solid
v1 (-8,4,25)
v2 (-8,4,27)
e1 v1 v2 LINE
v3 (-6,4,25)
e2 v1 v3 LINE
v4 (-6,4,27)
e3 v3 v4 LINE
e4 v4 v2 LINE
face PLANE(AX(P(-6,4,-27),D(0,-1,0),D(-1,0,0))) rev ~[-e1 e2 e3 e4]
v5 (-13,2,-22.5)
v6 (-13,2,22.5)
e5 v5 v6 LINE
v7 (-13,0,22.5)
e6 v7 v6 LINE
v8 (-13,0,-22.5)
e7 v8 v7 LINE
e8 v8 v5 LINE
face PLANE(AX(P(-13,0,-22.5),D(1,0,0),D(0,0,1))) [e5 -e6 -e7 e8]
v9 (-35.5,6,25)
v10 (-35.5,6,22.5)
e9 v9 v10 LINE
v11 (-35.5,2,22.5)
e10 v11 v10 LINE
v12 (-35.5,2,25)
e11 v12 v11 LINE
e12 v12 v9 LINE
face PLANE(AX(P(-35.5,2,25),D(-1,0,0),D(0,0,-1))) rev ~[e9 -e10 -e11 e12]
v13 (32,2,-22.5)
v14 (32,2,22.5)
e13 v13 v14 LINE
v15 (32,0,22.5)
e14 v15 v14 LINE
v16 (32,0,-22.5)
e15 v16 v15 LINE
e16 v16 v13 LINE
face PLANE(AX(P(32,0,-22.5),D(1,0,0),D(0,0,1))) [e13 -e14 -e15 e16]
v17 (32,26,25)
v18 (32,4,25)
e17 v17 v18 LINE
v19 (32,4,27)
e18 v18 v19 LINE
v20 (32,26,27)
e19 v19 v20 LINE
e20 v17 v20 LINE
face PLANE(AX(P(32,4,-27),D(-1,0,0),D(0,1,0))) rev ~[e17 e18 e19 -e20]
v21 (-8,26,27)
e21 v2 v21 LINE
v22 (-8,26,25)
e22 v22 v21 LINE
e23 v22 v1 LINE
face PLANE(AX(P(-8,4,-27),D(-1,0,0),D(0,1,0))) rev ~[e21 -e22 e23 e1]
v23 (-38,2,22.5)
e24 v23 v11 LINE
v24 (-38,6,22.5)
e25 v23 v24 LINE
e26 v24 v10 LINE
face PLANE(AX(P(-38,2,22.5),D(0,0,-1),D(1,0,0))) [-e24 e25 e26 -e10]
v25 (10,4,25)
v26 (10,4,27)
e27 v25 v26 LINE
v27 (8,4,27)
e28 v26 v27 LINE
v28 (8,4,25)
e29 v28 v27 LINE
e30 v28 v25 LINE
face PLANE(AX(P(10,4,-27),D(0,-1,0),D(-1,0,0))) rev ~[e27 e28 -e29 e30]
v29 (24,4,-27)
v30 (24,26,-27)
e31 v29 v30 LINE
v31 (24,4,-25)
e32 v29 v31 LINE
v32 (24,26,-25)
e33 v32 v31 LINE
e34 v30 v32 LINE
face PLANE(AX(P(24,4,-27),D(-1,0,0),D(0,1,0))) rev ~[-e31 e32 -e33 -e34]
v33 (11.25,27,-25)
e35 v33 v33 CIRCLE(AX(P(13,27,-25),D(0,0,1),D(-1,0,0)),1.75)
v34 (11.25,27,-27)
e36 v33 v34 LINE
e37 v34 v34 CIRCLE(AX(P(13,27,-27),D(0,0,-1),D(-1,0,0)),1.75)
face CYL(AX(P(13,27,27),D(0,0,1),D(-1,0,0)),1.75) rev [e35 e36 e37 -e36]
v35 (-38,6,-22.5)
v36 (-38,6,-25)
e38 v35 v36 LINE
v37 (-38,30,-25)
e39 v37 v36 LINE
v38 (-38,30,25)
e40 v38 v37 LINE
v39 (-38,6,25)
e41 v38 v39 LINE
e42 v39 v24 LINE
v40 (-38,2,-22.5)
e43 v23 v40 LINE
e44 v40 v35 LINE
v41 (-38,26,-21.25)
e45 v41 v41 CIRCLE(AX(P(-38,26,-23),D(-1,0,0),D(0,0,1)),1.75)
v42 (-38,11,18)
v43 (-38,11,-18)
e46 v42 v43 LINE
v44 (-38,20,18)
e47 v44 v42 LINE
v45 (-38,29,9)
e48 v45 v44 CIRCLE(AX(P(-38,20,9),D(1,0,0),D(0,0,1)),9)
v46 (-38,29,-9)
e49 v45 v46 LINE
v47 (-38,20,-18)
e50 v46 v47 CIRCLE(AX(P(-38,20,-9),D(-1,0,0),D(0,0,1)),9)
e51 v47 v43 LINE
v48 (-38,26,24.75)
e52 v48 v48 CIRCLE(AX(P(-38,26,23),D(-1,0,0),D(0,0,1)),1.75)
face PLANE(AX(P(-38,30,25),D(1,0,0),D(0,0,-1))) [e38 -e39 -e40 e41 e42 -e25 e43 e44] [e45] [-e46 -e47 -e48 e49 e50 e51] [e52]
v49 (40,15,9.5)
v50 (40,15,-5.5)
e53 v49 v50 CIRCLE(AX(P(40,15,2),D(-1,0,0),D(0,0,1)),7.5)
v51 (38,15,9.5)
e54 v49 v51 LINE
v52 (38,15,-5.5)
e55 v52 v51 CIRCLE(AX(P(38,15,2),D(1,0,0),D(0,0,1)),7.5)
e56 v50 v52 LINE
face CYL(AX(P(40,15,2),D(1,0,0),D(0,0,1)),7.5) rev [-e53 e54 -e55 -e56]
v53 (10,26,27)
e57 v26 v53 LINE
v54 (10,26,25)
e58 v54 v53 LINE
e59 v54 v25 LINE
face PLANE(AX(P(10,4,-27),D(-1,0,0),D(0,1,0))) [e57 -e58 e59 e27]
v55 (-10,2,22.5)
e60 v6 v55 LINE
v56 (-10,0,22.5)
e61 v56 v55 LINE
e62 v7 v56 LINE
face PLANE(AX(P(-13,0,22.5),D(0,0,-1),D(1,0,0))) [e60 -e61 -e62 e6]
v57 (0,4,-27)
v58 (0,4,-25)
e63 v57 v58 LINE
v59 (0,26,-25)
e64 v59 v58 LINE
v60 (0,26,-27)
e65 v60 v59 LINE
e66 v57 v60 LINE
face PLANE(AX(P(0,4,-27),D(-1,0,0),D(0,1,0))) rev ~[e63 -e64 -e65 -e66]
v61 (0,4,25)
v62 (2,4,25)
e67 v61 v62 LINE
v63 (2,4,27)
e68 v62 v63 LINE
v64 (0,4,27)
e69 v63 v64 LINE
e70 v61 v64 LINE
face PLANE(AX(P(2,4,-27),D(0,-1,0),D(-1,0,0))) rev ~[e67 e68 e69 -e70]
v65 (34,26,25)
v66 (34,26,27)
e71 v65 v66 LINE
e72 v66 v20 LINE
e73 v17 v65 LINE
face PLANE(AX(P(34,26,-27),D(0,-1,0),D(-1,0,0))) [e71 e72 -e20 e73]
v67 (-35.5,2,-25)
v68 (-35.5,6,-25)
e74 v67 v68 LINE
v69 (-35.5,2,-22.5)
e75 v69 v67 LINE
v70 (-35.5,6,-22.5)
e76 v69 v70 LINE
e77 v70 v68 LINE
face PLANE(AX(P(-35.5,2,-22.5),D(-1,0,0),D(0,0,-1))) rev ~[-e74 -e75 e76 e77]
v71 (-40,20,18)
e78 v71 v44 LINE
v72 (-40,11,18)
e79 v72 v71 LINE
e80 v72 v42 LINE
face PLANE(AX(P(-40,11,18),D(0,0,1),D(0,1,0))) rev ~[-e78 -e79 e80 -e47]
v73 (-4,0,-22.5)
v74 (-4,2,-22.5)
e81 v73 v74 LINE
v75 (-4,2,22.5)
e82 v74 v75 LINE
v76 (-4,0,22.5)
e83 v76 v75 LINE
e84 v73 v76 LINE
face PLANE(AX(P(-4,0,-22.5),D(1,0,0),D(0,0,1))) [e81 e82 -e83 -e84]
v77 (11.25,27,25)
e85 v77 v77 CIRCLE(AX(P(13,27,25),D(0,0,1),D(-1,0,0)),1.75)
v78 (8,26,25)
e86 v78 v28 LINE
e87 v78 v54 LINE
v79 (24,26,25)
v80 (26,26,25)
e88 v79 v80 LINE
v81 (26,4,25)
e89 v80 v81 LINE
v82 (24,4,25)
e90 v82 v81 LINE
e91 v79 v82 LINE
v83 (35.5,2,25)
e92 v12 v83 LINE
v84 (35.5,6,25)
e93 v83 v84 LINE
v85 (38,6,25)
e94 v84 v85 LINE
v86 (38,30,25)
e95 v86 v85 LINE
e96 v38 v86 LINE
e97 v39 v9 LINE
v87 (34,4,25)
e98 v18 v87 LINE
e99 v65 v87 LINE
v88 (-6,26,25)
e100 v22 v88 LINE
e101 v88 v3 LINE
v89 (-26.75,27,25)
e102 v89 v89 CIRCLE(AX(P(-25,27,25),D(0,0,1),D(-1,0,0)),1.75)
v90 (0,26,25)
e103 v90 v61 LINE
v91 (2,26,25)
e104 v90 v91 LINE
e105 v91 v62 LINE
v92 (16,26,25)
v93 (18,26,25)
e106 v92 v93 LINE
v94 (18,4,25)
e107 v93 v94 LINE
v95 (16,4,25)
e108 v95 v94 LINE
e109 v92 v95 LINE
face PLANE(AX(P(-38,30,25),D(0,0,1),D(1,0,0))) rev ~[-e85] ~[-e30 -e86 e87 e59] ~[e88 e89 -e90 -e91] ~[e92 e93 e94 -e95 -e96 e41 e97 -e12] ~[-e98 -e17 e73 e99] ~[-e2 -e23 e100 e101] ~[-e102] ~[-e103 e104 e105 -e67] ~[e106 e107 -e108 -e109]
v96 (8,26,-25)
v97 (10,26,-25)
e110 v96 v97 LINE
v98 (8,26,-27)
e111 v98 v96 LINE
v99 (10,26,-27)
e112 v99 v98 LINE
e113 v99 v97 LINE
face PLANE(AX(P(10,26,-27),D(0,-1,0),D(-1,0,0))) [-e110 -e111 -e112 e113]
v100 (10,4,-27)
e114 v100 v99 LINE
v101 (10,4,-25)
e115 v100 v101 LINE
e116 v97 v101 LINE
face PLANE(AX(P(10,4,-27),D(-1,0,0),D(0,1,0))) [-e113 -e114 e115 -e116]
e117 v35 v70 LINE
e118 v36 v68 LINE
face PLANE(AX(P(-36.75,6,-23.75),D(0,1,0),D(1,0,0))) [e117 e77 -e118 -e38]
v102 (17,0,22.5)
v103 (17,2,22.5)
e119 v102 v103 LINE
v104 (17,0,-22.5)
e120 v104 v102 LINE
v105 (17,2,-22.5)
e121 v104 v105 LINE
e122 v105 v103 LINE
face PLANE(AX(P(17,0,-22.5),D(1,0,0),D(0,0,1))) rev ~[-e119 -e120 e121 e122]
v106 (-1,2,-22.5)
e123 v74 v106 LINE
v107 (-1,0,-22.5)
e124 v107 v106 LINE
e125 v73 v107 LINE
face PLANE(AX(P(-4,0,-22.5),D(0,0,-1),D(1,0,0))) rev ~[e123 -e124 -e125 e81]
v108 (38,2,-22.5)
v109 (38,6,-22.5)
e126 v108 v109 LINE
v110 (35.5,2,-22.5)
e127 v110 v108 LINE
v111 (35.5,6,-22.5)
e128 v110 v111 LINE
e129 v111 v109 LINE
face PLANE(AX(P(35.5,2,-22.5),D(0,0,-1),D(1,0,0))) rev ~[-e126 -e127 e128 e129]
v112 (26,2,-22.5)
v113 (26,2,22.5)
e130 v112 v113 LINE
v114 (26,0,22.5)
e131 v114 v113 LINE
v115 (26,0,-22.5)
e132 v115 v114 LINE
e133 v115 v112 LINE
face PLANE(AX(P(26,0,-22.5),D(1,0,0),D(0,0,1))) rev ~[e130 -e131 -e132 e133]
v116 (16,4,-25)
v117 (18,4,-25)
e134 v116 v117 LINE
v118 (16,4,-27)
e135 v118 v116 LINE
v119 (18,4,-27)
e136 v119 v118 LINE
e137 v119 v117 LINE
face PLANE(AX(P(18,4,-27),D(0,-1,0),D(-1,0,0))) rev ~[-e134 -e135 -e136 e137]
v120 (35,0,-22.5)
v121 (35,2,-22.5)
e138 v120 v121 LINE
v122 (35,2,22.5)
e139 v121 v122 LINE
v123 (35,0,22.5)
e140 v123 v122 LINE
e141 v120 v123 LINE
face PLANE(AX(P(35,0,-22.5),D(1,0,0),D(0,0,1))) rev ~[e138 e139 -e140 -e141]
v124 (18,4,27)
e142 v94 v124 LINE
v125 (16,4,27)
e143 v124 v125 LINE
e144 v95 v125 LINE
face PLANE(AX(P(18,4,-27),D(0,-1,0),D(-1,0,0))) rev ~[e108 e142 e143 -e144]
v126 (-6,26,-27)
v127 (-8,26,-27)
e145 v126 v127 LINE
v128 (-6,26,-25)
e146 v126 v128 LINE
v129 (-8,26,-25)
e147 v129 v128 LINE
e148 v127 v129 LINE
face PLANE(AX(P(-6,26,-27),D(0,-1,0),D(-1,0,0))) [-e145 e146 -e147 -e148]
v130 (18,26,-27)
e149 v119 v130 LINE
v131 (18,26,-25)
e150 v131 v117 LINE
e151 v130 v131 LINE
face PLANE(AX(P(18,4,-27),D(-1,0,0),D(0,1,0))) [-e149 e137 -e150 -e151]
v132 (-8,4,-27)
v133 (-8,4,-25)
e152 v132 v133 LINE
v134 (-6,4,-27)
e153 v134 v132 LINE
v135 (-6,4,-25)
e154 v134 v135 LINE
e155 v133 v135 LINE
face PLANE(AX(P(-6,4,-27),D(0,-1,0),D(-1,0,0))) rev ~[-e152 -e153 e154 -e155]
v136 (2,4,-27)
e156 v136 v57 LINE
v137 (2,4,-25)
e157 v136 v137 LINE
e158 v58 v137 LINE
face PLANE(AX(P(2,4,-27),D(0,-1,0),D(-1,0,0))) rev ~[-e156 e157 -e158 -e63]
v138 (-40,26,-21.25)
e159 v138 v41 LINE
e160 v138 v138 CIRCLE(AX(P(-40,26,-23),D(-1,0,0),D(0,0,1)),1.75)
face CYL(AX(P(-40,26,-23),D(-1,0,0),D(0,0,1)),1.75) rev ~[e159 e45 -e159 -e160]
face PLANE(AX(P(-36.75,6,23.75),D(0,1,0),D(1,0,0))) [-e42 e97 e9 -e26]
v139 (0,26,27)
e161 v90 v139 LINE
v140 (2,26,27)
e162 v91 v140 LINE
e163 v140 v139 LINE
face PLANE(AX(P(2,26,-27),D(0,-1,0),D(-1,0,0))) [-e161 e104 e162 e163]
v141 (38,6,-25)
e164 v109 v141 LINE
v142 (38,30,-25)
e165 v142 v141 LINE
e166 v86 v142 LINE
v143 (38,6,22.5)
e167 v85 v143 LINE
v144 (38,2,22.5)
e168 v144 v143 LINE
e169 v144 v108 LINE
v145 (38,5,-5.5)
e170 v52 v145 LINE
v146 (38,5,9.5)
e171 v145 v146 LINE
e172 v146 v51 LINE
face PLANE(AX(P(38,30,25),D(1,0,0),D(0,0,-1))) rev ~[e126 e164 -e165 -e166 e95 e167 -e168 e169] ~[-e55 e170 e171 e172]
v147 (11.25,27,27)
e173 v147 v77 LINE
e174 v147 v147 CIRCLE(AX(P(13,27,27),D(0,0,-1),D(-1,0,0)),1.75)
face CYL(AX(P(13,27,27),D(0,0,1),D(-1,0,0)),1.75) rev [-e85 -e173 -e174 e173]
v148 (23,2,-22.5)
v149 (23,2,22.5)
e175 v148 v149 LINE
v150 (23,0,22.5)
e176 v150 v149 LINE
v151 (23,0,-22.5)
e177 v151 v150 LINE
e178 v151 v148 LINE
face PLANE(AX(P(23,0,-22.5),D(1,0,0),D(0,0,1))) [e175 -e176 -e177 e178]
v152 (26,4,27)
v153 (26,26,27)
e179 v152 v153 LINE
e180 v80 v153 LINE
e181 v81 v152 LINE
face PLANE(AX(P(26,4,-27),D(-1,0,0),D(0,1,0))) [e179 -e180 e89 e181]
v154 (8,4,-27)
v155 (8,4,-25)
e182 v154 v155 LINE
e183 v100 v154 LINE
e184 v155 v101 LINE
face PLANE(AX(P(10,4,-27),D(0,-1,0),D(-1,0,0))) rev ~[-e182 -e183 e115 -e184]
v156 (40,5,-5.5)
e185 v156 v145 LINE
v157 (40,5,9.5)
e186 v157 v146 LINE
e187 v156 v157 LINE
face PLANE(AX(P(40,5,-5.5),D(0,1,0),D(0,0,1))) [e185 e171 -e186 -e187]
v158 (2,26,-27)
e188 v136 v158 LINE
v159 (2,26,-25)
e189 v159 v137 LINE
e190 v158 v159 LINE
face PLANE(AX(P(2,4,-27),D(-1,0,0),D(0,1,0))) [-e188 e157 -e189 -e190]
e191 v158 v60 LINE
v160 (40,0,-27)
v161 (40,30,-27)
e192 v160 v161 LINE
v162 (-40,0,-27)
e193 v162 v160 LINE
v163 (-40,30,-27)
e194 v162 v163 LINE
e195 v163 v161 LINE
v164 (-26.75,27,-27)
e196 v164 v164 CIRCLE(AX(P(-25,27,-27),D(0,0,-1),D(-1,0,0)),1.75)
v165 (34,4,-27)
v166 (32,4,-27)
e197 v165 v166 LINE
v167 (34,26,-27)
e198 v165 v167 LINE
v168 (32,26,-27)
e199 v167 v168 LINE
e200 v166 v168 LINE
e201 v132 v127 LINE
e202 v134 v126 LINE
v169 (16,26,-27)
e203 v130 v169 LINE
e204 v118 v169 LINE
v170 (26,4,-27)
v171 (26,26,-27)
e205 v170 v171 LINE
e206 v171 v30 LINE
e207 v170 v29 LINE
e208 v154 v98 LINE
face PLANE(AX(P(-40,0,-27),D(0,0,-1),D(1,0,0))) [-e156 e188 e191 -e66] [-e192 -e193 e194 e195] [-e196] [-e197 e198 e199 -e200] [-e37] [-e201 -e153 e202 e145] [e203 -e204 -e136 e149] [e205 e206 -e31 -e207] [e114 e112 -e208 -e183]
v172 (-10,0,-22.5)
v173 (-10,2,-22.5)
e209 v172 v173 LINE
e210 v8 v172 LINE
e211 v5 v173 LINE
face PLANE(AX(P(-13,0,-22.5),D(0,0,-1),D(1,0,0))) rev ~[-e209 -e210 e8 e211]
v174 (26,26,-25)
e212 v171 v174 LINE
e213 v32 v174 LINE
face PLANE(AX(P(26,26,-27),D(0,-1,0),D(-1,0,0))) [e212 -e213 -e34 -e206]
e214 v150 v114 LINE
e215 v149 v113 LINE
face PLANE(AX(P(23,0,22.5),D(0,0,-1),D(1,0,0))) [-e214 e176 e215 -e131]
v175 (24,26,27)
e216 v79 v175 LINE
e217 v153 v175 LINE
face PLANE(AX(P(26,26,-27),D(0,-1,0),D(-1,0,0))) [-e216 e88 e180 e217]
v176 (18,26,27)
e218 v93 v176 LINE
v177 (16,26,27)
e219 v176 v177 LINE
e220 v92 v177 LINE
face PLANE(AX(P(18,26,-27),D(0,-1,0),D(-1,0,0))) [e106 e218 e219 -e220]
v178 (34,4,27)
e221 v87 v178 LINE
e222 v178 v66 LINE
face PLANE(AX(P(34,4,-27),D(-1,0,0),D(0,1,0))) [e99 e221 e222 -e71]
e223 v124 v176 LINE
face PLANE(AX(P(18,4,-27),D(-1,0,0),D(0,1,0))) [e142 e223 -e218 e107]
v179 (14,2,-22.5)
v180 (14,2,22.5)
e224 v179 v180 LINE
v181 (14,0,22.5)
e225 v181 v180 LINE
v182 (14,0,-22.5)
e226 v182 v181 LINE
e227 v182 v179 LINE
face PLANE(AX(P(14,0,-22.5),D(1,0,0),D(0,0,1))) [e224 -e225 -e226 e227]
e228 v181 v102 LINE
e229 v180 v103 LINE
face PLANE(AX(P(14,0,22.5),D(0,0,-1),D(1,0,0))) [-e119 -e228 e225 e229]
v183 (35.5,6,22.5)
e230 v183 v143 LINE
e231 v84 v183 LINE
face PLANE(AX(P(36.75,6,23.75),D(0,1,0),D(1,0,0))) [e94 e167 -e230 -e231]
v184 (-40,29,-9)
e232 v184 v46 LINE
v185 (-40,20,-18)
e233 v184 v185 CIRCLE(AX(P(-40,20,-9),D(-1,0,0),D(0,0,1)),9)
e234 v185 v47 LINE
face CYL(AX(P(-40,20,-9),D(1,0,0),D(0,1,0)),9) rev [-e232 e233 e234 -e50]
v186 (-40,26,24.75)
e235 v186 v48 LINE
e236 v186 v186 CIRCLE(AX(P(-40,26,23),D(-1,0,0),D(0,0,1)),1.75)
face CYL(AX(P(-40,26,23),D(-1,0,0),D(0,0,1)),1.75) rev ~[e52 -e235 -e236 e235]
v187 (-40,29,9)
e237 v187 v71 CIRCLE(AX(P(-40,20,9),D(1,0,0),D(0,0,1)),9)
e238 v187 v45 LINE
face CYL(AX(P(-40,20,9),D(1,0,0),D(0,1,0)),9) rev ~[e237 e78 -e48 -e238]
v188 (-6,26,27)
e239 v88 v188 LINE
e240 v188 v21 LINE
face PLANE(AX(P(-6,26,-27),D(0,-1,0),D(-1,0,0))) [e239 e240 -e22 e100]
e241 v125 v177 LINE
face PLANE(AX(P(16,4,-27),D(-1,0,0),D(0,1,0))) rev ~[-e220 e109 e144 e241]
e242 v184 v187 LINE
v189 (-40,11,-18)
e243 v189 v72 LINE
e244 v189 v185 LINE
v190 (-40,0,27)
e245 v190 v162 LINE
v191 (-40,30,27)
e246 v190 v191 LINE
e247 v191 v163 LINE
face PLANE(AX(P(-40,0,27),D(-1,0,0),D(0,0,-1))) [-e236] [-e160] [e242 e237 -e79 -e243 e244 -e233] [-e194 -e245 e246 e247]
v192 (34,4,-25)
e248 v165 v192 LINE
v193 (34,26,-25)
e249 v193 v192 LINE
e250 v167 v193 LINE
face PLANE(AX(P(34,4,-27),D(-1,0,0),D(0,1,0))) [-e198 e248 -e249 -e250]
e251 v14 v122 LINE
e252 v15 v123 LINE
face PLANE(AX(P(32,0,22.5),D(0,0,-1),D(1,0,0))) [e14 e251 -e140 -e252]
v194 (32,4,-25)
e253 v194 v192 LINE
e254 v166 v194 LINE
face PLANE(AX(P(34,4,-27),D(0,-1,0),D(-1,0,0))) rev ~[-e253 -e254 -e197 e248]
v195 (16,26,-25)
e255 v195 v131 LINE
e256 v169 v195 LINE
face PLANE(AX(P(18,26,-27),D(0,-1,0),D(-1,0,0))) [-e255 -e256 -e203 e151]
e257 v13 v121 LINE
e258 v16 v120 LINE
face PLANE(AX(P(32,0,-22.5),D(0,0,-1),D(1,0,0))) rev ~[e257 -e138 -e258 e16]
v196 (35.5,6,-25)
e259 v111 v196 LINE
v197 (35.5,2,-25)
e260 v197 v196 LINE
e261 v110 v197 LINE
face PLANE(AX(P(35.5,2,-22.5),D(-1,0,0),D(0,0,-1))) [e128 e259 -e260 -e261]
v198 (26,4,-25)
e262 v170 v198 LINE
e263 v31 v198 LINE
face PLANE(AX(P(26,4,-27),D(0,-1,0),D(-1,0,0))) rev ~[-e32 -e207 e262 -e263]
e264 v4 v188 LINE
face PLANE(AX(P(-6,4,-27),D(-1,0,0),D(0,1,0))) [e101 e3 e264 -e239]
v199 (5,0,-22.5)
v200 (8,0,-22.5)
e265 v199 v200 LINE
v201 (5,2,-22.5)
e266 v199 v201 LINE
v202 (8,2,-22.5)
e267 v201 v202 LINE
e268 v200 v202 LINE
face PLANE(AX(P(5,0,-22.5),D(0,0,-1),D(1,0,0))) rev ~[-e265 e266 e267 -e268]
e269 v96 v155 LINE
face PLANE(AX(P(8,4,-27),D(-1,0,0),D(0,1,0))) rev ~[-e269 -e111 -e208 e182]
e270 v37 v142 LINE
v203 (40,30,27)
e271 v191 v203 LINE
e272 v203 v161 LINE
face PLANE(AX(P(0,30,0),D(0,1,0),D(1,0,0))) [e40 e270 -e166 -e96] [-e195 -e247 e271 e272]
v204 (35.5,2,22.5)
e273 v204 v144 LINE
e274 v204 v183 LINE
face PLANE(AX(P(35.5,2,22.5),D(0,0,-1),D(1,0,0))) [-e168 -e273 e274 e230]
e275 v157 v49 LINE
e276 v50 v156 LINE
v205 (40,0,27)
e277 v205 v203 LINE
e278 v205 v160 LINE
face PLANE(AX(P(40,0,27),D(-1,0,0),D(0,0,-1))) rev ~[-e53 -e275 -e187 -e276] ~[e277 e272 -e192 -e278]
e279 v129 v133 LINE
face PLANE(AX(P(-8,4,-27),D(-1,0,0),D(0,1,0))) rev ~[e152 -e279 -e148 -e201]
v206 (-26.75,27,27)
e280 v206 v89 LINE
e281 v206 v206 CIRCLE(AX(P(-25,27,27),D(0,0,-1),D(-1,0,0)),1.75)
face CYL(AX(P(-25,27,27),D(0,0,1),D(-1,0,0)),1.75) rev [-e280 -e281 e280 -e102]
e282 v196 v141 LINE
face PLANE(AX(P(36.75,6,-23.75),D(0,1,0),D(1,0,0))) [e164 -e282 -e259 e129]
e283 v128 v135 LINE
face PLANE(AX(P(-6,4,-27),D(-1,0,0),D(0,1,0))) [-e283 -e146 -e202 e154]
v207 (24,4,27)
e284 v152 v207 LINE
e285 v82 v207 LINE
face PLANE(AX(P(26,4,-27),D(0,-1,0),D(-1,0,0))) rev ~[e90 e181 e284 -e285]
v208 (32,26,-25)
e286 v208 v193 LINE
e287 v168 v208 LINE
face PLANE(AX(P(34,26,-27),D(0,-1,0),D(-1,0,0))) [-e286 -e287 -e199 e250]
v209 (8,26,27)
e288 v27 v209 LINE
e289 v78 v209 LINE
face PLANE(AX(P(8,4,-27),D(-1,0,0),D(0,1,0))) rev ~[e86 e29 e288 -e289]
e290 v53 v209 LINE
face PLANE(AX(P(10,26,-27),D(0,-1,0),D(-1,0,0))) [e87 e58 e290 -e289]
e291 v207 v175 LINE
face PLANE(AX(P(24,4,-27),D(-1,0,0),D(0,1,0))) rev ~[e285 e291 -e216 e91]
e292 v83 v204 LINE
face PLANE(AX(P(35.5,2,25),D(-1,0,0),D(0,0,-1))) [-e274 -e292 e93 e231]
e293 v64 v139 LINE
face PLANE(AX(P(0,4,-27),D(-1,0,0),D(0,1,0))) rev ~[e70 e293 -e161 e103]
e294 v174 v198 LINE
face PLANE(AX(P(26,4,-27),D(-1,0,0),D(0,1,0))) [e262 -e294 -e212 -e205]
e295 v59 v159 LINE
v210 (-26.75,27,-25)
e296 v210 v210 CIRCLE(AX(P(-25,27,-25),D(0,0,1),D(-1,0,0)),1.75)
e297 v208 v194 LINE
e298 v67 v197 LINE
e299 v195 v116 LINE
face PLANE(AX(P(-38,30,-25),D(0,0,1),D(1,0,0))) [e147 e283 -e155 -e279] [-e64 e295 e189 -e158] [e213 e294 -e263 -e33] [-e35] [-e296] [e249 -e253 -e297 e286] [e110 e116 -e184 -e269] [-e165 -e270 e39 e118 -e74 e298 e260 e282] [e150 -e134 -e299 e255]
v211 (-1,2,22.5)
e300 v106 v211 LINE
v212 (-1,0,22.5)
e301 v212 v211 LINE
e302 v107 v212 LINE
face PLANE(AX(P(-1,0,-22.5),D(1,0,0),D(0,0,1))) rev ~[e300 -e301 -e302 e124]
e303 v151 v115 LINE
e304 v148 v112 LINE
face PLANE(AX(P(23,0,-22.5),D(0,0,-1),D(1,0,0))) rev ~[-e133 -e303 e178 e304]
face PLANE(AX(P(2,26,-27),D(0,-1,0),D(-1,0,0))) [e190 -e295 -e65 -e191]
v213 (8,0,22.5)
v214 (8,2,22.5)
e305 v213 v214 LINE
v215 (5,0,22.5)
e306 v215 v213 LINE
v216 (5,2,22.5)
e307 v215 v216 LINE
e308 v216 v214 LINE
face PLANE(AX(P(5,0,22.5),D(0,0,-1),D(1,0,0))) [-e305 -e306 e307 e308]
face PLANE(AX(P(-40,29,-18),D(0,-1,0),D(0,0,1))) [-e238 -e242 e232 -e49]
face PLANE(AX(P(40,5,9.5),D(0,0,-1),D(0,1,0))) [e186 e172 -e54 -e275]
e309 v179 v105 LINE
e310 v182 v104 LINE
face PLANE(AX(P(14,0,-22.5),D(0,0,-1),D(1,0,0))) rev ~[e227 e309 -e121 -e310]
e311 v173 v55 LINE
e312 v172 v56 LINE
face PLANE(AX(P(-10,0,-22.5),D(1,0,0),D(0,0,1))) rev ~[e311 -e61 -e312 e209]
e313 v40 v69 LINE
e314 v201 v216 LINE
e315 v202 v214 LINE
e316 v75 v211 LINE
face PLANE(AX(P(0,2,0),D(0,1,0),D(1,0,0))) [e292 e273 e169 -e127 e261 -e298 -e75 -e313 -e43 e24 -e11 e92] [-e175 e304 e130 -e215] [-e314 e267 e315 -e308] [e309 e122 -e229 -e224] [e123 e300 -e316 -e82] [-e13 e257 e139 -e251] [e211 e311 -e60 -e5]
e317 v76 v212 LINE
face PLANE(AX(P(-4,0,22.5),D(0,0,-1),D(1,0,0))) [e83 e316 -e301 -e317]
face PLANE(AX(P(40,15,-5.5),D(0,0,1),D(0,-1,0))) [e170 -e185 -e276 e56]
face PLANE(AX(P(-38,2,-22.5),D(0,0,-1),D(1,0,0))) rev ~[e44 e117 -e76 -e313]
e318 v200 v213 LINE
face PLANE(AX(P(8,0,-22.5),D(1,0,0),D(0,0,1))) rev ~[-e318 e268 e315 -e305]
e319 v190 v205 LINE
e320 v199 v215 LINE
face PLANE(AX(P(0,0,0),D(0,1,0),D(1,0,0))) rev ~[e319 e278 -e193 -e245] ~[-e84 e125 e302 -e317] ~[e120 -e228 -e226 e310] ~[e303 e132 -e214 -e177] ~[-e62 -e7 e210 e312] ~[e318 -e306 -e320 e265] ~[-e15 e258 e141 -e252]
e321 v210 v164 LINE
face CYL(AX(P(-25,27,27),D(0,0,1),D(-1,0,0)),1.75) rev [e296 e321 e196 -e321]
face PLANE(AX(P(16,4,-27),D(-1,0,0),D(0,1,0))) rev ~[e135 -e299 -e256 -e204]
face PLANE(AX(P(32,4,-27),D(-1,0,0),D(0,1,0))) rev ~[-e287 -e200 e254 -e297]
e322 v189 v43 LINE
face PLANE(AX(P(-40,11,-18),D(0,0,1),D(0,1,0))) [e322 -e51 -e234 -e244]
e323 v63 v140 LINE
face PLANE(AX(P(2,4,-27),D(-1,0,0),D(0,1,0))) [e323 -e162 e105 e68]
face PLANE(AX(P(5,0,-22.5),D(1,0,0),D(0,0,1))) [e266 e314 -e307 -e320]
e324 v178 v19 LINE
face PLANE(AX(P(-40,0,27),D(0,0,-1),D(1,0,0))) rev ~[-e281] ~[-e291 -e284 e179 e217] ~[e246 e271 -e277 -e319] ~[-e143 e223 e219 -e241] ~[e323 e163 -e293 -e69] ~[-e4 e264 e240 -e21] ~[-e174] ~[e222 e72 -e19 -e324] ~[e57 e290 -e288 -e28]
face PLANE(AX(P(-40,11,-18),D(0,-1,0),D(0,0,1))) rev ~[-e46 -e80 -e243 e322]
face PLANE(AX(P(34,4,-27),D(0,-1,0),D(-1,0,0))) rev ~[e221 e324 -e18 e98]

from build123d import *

# Parameters (mm, degrees)
SKETCH1_W           = 80
SKETCH1_H           = 54
BOSS_EXTRUDE1_DEPTH = 30
SKETCH2_W           = 76
SKETCH2_H           = 50
CUT_EXTRUDE1_DEPTH  = 28
CUT_EXTRUDE2_DEPTH  = 6
SKETCH4_W           = 36
SKETCH4_H           = 18
CUT_EXTRUDE3_DEPTH  = 6
SKETCH5_W           = 2.5
SKETCH5_H           = 2.5
STANDOFFS_DEPTH     = 4
FILLET3_R           = 9
FILLET4_R           = 9
SKETCH6_W           = 3
SKETCH6_H           = 45
BOTTOM_GRILL_DEPTH  = 2
CUT_EXTRUDE5_REACH  = 75.593
SKETCH7_W           = 2
SKETCH7_H           = 22
CUT_EXTRUDE6_START  = -54
SKETCH8_R           = 1.75
CUT_EXTRUDE6_DEPTH  = 54
SKETCH9_R           = 1.75
CUT_EXTRUDE7_DEPTH  = 2


with BuildPart() as part:
    # Sketch1 → Boss-Extrude1 (new body)
    with BuildSketch(Plane(origin=(0, 0, 0), x_dir=(1, 0, 0), z_dir=(0, 1, 0))):
        Rectangle(SKETCH1_W, SKETCH1_H)
    extrude(amount=BOSS_EXTRUDE1_DEPTH)

    # Sketch2 → Cut-Extrude1 (cut)
    with BuildSketch(Plane(origin=(0, 30, 0), x_dir=(1, 0, 0), z_dir=(0, 1, 0))):
        Rectangle(SKETCH2_W, SKETCH2_H)
    extrude(amount=-CUT_EXTRUDE1_DEPTH, mode=Mode.SUBTRACT)

    # Sketch3 → Cut-Extrude2 (cut)
    with BuildSketch(Plane(origin=(40, 0, 0), x_dir=(0, 0, -1), z_dir=(1, 0, 0))):
        with BuildLine():
            Line((5.5, 15), (5.5, 5))
            Line((5.5, 5), (-9.5, 5))
            Line((-9.5, 5), (-9.5, 15))
            ThreePointArc((-9.5, 15), (-2, 22.5), (5.5, 15))
        make_face()
    extrude(amount=-CUT_EXTRUDE2_DEPTH, mode=Mode.SUBTRACT)

    # Sketch4 → Cut-Extrude3 (cut)
    with BuildSketch(Plane.ZY.offset(40)):
        with Locations((0, 20)):
            Rectangle(SKETCH4_W, SKETCH4_H)
    extrude(amount=-CUT_EXTRUDE3_DEPTH, mode=Mode.SUBTRACT)

    # Sketch5 → Standoffs (add)
    with BuildSketch(Plane(origin=(0, 2, 0), x_dir=(1, 0, 0), z_dir=(0, 1, 0))):
        with Locations((36.75, 23.75)):
            Rectangle(SKETCH5_W, SKETCH5_H)
        with Locations((36.75, -23.75)):
            Rectangle(SKETCH5_W, SKETCH5_H)
        with Locations((-36.75, -23.75)):
            Rectangle(SKETCH5_W, SKETCH5_H)
        with Locations((-36.75, 23.75)):
            Rectangle(SKETCH5_W, SKETCH5_H)
    extrude(amount=STANDOFFS_DEPTH)

    # Fillet3
    fillet3_edges = [part.edges().sort_by_distance(p)[0] for p in [
        (-39, 29, -18),
    ]]
    fillet(fillet3_edges, radius=FILLET3_R)

    # Fillet4
    fillet4_edges = [part.edges().sort_by_distance(p)[0] for p in [
        (-39, 29, 18),
    ]]
    fillet(fillet4_edges, radius=FILLET4_R)

    # Sketch6 → Bottom Grill (cut)
    with BuildSketch(Plane.XZ):
        with Locations((33.5, 0)):
            Rectangle(SKETCH6_W, SKETCH6_H)
        with Locations((24.5, 0)):
            Rectangle(SKETCH6_W, SKETCH6_H)
        with Locations((15.5, 0)):
            Rectangle(SKETCH6_W, SKETCH6_H)
        with Locations((6.5, 0)):
            Rectangle(SKETCH6_W, SKETCH6_H)
        with Locations((-2.5, 0)):
            Rectangle(SKETCH6_W, SKETCH6_H)
        with Locations((-11.5, 0)):
            Rectangle(SKETCH6_W, SKETCH6_H)
    extrude(amount=-BOTTOM_GRILL_DEPTH, mode=Mode.SUBTRACT)

    # Cut-Extrude5: up to this face of the body (flat: up to its plane)
    cut_extrude5_end = Plane(part.part.faces().sort_by_distance((0, 15, 27))[0])
    # Sketch7 → Cut-Extrude5 (cut, up to the picked face)
    with BuildSketch(Plane(origin=(0, 0, -27), x_dir=(-1, 0, 0), z_dir=(0, 0, -1)), mode=Mode.PRIVATE) as cut_extrude5_sk1:
        with Locations((-33, 15)):
            Rectangle(SKETCH7_W, SKETCH7_H)
    cut_extrude5_tool1 = split(extrude(cut_extrude5_sk1.sketch, amount=-CUT_EXTRUDE5_REACH, mode=Mode.PRIVATE), bisect_by=cut_extrude5_end, keep=Keep.BOTH, mode=Mode.PRIVATE)
    # Sketch7 → Cut-Extrude5 (cut, up to the picked face)
    with BuildSketch(Plane(origin=(0, 0, -27), x_dir=(-1, 0, 0), z_dir=(0, 0, -1)), mode=Mode.PRIVATE) as cut_extrude5_sk2:
        with Locations((-25, 15)):
            Rectangle(SKETCH7_W, SKETCH7_H)
    cut_extrude5_tool2 = split(extrude(cut_extrude5_sk2.sketch, amount=-CUT_EXTRUDE5_REACH, mode=Mode.PRIVATE), bisect_by=cut_extrude5_end, keep=Keep.BOTH, mode=Mode.PRIVATE)
    # Sketch7 → Cut-Extrude5 (cut, up to the picked face)
    with BuildSketch(Plane(origin=(0, 0, -27), x_dir=(-1, 0, 0), z_dir=(0, 0, -1)), mode=Mode.PRIVATE) as cut_extrude5_sk3:
        with Locations((-17, 15)):
            Rectangle(SKETCH7_W, SKETCH7_H)
    cut_extrude5_tool3 = split(extrude(cut_extrude5_sk3.sketch, amount=-CUT_EXTRUDE5_REACH, mode=Mode.PRIVATE), bisect_by=cut_extrude5_end, keep=Keep.BOTH, mode=Mode.PRIVATE)
    # Sketch7 → Cut-Extrude5 (cut, up to the picked face)
    with BuildSketch(Plane(origin=(0, 0, -27), x_dir=(-1, 0, 0), z_dir=(0, 0, -1)), mode=Mode.PRIVATE) as cut_extrude5_sk4:
        with Locations((-9, 15)):
            Rectangle(SKETCH7_W, SKETCH7_H)
    cut_extrude5_tool4 = split(extrude(cut_extrude5_sk4.sketch, amount=-CUT_EXTRUDE5_REACH, mode=Mode.PRIVATE), bisect_by=cut_extrude5_end, keep=Keep.BOTH, mode=Mode.PRIVATE)
    # Sketch7 → Cut-Extrude5 (cut, up to the picked face)
    with BuildSketch(Plane(origin=(0, 0, -27), x_dir=(-1, 0, 0), z_dir=(0, 0, -1)), mode=Mode.PRIVATE) as cut_extrude5_sk5:
        with Locations((-1, 15)):
            Rectangle(SKETCH7_W, SKETCH7_H)
    cut_extrude5_tool5 = split(extrude(cut_extrude5_sk5.sketch, amount=-CUT_EXTRUDE5_REACH, mode=Mode.PRIVATE), bisect_by=cut_extrude5_end, keep=Keep.BOTH, mode=Mode.PRIVATE)
    # Sketch7 → Cut-Extrude5 (cut, up to the picked face)
    with BuildSketch(Plane(origin=(0, 0, -27), x_dir=(-1, 0, 0), z_dir=(0, 0, -1)), mode=Mode.PRIVATE) as cut_extrude5_sk6:
        with Locations((7, 15)):
            Rectangle(SKETCH7_W, SKETCH7_H)
    cut_extrude5_tool6 = split(extrude(cut_extrude5_sk6.sketch, amount=-CUT_EXTRUDE5_REACH, mode=Mode.PRIVATE), bisect_by=cut_extrude5_end, keep=Keep.BOTH, mode=Mode.PRIVATE)
    add(cut_extrude5_tool1.solids().sort_by(Axis((33, 15, -27), (0, 0, 1)))[0], mode=Mode.SUBTRACT)
    add(cut_extrude5_tool2.solids().sort_by(Axis((25, 15, -27), (0, 0, 1)))[0], mode=Mode.SUBTRACT)
    add(cut_extrude5_tool3.solids().sort_by(Axis((17, 15, -27), (0, 0, 1)))[0], mode=Mode.SUBTRACT)
    add(cut_extrude5_tool4.solids().sort_by(Axis((9, 15, -27), (0, 0, 1)))[0], mode=Mode.SUBTRACT)
    add(cut_extrude5_tool5.solids().sort_by(Axis((1, 15, -27), (0, 0, 1)))[0], mode=Mode.SUBTRACT)
    add(cut_extrude5_tool6.solids().sort_by(Axis((-7, 15, -27), (0, 0, 1)))[0], mode=Mode.SUBTRACT)

    # Sketch8 → Cut-Extrude6 (cut)
    with BuildSketch(Plane(origin=(0, 0, -27), x_dir=(-1, 0, 0), z_dir=(0, 0, -1)).offset(CUT_EXTRUDE6_START)):
        with Locations((-13, 27)):
            Circle(SKETCH8_R)
        with Locations((25, 27)):
            Circle(SKETCH8_R)
    extrude(amount=CUT_EXTRUDE6_DEPTH, mode=Mode.SUBTRACT)

    # Sketch9 → Cut-Extrude7 (cut)
    with BuildSketch(Plane.ZY.offset(40)):
        with Locations((-23, 26)):
            Circle(SKETCH9_R)
        with Locations((23, 26)):
            Circle(SKETCH9_R)
    extrude(amount=-CUT_EXTRUDE7_DEPTH, mode=Mode.SUBTRACT)


solid = part.part
